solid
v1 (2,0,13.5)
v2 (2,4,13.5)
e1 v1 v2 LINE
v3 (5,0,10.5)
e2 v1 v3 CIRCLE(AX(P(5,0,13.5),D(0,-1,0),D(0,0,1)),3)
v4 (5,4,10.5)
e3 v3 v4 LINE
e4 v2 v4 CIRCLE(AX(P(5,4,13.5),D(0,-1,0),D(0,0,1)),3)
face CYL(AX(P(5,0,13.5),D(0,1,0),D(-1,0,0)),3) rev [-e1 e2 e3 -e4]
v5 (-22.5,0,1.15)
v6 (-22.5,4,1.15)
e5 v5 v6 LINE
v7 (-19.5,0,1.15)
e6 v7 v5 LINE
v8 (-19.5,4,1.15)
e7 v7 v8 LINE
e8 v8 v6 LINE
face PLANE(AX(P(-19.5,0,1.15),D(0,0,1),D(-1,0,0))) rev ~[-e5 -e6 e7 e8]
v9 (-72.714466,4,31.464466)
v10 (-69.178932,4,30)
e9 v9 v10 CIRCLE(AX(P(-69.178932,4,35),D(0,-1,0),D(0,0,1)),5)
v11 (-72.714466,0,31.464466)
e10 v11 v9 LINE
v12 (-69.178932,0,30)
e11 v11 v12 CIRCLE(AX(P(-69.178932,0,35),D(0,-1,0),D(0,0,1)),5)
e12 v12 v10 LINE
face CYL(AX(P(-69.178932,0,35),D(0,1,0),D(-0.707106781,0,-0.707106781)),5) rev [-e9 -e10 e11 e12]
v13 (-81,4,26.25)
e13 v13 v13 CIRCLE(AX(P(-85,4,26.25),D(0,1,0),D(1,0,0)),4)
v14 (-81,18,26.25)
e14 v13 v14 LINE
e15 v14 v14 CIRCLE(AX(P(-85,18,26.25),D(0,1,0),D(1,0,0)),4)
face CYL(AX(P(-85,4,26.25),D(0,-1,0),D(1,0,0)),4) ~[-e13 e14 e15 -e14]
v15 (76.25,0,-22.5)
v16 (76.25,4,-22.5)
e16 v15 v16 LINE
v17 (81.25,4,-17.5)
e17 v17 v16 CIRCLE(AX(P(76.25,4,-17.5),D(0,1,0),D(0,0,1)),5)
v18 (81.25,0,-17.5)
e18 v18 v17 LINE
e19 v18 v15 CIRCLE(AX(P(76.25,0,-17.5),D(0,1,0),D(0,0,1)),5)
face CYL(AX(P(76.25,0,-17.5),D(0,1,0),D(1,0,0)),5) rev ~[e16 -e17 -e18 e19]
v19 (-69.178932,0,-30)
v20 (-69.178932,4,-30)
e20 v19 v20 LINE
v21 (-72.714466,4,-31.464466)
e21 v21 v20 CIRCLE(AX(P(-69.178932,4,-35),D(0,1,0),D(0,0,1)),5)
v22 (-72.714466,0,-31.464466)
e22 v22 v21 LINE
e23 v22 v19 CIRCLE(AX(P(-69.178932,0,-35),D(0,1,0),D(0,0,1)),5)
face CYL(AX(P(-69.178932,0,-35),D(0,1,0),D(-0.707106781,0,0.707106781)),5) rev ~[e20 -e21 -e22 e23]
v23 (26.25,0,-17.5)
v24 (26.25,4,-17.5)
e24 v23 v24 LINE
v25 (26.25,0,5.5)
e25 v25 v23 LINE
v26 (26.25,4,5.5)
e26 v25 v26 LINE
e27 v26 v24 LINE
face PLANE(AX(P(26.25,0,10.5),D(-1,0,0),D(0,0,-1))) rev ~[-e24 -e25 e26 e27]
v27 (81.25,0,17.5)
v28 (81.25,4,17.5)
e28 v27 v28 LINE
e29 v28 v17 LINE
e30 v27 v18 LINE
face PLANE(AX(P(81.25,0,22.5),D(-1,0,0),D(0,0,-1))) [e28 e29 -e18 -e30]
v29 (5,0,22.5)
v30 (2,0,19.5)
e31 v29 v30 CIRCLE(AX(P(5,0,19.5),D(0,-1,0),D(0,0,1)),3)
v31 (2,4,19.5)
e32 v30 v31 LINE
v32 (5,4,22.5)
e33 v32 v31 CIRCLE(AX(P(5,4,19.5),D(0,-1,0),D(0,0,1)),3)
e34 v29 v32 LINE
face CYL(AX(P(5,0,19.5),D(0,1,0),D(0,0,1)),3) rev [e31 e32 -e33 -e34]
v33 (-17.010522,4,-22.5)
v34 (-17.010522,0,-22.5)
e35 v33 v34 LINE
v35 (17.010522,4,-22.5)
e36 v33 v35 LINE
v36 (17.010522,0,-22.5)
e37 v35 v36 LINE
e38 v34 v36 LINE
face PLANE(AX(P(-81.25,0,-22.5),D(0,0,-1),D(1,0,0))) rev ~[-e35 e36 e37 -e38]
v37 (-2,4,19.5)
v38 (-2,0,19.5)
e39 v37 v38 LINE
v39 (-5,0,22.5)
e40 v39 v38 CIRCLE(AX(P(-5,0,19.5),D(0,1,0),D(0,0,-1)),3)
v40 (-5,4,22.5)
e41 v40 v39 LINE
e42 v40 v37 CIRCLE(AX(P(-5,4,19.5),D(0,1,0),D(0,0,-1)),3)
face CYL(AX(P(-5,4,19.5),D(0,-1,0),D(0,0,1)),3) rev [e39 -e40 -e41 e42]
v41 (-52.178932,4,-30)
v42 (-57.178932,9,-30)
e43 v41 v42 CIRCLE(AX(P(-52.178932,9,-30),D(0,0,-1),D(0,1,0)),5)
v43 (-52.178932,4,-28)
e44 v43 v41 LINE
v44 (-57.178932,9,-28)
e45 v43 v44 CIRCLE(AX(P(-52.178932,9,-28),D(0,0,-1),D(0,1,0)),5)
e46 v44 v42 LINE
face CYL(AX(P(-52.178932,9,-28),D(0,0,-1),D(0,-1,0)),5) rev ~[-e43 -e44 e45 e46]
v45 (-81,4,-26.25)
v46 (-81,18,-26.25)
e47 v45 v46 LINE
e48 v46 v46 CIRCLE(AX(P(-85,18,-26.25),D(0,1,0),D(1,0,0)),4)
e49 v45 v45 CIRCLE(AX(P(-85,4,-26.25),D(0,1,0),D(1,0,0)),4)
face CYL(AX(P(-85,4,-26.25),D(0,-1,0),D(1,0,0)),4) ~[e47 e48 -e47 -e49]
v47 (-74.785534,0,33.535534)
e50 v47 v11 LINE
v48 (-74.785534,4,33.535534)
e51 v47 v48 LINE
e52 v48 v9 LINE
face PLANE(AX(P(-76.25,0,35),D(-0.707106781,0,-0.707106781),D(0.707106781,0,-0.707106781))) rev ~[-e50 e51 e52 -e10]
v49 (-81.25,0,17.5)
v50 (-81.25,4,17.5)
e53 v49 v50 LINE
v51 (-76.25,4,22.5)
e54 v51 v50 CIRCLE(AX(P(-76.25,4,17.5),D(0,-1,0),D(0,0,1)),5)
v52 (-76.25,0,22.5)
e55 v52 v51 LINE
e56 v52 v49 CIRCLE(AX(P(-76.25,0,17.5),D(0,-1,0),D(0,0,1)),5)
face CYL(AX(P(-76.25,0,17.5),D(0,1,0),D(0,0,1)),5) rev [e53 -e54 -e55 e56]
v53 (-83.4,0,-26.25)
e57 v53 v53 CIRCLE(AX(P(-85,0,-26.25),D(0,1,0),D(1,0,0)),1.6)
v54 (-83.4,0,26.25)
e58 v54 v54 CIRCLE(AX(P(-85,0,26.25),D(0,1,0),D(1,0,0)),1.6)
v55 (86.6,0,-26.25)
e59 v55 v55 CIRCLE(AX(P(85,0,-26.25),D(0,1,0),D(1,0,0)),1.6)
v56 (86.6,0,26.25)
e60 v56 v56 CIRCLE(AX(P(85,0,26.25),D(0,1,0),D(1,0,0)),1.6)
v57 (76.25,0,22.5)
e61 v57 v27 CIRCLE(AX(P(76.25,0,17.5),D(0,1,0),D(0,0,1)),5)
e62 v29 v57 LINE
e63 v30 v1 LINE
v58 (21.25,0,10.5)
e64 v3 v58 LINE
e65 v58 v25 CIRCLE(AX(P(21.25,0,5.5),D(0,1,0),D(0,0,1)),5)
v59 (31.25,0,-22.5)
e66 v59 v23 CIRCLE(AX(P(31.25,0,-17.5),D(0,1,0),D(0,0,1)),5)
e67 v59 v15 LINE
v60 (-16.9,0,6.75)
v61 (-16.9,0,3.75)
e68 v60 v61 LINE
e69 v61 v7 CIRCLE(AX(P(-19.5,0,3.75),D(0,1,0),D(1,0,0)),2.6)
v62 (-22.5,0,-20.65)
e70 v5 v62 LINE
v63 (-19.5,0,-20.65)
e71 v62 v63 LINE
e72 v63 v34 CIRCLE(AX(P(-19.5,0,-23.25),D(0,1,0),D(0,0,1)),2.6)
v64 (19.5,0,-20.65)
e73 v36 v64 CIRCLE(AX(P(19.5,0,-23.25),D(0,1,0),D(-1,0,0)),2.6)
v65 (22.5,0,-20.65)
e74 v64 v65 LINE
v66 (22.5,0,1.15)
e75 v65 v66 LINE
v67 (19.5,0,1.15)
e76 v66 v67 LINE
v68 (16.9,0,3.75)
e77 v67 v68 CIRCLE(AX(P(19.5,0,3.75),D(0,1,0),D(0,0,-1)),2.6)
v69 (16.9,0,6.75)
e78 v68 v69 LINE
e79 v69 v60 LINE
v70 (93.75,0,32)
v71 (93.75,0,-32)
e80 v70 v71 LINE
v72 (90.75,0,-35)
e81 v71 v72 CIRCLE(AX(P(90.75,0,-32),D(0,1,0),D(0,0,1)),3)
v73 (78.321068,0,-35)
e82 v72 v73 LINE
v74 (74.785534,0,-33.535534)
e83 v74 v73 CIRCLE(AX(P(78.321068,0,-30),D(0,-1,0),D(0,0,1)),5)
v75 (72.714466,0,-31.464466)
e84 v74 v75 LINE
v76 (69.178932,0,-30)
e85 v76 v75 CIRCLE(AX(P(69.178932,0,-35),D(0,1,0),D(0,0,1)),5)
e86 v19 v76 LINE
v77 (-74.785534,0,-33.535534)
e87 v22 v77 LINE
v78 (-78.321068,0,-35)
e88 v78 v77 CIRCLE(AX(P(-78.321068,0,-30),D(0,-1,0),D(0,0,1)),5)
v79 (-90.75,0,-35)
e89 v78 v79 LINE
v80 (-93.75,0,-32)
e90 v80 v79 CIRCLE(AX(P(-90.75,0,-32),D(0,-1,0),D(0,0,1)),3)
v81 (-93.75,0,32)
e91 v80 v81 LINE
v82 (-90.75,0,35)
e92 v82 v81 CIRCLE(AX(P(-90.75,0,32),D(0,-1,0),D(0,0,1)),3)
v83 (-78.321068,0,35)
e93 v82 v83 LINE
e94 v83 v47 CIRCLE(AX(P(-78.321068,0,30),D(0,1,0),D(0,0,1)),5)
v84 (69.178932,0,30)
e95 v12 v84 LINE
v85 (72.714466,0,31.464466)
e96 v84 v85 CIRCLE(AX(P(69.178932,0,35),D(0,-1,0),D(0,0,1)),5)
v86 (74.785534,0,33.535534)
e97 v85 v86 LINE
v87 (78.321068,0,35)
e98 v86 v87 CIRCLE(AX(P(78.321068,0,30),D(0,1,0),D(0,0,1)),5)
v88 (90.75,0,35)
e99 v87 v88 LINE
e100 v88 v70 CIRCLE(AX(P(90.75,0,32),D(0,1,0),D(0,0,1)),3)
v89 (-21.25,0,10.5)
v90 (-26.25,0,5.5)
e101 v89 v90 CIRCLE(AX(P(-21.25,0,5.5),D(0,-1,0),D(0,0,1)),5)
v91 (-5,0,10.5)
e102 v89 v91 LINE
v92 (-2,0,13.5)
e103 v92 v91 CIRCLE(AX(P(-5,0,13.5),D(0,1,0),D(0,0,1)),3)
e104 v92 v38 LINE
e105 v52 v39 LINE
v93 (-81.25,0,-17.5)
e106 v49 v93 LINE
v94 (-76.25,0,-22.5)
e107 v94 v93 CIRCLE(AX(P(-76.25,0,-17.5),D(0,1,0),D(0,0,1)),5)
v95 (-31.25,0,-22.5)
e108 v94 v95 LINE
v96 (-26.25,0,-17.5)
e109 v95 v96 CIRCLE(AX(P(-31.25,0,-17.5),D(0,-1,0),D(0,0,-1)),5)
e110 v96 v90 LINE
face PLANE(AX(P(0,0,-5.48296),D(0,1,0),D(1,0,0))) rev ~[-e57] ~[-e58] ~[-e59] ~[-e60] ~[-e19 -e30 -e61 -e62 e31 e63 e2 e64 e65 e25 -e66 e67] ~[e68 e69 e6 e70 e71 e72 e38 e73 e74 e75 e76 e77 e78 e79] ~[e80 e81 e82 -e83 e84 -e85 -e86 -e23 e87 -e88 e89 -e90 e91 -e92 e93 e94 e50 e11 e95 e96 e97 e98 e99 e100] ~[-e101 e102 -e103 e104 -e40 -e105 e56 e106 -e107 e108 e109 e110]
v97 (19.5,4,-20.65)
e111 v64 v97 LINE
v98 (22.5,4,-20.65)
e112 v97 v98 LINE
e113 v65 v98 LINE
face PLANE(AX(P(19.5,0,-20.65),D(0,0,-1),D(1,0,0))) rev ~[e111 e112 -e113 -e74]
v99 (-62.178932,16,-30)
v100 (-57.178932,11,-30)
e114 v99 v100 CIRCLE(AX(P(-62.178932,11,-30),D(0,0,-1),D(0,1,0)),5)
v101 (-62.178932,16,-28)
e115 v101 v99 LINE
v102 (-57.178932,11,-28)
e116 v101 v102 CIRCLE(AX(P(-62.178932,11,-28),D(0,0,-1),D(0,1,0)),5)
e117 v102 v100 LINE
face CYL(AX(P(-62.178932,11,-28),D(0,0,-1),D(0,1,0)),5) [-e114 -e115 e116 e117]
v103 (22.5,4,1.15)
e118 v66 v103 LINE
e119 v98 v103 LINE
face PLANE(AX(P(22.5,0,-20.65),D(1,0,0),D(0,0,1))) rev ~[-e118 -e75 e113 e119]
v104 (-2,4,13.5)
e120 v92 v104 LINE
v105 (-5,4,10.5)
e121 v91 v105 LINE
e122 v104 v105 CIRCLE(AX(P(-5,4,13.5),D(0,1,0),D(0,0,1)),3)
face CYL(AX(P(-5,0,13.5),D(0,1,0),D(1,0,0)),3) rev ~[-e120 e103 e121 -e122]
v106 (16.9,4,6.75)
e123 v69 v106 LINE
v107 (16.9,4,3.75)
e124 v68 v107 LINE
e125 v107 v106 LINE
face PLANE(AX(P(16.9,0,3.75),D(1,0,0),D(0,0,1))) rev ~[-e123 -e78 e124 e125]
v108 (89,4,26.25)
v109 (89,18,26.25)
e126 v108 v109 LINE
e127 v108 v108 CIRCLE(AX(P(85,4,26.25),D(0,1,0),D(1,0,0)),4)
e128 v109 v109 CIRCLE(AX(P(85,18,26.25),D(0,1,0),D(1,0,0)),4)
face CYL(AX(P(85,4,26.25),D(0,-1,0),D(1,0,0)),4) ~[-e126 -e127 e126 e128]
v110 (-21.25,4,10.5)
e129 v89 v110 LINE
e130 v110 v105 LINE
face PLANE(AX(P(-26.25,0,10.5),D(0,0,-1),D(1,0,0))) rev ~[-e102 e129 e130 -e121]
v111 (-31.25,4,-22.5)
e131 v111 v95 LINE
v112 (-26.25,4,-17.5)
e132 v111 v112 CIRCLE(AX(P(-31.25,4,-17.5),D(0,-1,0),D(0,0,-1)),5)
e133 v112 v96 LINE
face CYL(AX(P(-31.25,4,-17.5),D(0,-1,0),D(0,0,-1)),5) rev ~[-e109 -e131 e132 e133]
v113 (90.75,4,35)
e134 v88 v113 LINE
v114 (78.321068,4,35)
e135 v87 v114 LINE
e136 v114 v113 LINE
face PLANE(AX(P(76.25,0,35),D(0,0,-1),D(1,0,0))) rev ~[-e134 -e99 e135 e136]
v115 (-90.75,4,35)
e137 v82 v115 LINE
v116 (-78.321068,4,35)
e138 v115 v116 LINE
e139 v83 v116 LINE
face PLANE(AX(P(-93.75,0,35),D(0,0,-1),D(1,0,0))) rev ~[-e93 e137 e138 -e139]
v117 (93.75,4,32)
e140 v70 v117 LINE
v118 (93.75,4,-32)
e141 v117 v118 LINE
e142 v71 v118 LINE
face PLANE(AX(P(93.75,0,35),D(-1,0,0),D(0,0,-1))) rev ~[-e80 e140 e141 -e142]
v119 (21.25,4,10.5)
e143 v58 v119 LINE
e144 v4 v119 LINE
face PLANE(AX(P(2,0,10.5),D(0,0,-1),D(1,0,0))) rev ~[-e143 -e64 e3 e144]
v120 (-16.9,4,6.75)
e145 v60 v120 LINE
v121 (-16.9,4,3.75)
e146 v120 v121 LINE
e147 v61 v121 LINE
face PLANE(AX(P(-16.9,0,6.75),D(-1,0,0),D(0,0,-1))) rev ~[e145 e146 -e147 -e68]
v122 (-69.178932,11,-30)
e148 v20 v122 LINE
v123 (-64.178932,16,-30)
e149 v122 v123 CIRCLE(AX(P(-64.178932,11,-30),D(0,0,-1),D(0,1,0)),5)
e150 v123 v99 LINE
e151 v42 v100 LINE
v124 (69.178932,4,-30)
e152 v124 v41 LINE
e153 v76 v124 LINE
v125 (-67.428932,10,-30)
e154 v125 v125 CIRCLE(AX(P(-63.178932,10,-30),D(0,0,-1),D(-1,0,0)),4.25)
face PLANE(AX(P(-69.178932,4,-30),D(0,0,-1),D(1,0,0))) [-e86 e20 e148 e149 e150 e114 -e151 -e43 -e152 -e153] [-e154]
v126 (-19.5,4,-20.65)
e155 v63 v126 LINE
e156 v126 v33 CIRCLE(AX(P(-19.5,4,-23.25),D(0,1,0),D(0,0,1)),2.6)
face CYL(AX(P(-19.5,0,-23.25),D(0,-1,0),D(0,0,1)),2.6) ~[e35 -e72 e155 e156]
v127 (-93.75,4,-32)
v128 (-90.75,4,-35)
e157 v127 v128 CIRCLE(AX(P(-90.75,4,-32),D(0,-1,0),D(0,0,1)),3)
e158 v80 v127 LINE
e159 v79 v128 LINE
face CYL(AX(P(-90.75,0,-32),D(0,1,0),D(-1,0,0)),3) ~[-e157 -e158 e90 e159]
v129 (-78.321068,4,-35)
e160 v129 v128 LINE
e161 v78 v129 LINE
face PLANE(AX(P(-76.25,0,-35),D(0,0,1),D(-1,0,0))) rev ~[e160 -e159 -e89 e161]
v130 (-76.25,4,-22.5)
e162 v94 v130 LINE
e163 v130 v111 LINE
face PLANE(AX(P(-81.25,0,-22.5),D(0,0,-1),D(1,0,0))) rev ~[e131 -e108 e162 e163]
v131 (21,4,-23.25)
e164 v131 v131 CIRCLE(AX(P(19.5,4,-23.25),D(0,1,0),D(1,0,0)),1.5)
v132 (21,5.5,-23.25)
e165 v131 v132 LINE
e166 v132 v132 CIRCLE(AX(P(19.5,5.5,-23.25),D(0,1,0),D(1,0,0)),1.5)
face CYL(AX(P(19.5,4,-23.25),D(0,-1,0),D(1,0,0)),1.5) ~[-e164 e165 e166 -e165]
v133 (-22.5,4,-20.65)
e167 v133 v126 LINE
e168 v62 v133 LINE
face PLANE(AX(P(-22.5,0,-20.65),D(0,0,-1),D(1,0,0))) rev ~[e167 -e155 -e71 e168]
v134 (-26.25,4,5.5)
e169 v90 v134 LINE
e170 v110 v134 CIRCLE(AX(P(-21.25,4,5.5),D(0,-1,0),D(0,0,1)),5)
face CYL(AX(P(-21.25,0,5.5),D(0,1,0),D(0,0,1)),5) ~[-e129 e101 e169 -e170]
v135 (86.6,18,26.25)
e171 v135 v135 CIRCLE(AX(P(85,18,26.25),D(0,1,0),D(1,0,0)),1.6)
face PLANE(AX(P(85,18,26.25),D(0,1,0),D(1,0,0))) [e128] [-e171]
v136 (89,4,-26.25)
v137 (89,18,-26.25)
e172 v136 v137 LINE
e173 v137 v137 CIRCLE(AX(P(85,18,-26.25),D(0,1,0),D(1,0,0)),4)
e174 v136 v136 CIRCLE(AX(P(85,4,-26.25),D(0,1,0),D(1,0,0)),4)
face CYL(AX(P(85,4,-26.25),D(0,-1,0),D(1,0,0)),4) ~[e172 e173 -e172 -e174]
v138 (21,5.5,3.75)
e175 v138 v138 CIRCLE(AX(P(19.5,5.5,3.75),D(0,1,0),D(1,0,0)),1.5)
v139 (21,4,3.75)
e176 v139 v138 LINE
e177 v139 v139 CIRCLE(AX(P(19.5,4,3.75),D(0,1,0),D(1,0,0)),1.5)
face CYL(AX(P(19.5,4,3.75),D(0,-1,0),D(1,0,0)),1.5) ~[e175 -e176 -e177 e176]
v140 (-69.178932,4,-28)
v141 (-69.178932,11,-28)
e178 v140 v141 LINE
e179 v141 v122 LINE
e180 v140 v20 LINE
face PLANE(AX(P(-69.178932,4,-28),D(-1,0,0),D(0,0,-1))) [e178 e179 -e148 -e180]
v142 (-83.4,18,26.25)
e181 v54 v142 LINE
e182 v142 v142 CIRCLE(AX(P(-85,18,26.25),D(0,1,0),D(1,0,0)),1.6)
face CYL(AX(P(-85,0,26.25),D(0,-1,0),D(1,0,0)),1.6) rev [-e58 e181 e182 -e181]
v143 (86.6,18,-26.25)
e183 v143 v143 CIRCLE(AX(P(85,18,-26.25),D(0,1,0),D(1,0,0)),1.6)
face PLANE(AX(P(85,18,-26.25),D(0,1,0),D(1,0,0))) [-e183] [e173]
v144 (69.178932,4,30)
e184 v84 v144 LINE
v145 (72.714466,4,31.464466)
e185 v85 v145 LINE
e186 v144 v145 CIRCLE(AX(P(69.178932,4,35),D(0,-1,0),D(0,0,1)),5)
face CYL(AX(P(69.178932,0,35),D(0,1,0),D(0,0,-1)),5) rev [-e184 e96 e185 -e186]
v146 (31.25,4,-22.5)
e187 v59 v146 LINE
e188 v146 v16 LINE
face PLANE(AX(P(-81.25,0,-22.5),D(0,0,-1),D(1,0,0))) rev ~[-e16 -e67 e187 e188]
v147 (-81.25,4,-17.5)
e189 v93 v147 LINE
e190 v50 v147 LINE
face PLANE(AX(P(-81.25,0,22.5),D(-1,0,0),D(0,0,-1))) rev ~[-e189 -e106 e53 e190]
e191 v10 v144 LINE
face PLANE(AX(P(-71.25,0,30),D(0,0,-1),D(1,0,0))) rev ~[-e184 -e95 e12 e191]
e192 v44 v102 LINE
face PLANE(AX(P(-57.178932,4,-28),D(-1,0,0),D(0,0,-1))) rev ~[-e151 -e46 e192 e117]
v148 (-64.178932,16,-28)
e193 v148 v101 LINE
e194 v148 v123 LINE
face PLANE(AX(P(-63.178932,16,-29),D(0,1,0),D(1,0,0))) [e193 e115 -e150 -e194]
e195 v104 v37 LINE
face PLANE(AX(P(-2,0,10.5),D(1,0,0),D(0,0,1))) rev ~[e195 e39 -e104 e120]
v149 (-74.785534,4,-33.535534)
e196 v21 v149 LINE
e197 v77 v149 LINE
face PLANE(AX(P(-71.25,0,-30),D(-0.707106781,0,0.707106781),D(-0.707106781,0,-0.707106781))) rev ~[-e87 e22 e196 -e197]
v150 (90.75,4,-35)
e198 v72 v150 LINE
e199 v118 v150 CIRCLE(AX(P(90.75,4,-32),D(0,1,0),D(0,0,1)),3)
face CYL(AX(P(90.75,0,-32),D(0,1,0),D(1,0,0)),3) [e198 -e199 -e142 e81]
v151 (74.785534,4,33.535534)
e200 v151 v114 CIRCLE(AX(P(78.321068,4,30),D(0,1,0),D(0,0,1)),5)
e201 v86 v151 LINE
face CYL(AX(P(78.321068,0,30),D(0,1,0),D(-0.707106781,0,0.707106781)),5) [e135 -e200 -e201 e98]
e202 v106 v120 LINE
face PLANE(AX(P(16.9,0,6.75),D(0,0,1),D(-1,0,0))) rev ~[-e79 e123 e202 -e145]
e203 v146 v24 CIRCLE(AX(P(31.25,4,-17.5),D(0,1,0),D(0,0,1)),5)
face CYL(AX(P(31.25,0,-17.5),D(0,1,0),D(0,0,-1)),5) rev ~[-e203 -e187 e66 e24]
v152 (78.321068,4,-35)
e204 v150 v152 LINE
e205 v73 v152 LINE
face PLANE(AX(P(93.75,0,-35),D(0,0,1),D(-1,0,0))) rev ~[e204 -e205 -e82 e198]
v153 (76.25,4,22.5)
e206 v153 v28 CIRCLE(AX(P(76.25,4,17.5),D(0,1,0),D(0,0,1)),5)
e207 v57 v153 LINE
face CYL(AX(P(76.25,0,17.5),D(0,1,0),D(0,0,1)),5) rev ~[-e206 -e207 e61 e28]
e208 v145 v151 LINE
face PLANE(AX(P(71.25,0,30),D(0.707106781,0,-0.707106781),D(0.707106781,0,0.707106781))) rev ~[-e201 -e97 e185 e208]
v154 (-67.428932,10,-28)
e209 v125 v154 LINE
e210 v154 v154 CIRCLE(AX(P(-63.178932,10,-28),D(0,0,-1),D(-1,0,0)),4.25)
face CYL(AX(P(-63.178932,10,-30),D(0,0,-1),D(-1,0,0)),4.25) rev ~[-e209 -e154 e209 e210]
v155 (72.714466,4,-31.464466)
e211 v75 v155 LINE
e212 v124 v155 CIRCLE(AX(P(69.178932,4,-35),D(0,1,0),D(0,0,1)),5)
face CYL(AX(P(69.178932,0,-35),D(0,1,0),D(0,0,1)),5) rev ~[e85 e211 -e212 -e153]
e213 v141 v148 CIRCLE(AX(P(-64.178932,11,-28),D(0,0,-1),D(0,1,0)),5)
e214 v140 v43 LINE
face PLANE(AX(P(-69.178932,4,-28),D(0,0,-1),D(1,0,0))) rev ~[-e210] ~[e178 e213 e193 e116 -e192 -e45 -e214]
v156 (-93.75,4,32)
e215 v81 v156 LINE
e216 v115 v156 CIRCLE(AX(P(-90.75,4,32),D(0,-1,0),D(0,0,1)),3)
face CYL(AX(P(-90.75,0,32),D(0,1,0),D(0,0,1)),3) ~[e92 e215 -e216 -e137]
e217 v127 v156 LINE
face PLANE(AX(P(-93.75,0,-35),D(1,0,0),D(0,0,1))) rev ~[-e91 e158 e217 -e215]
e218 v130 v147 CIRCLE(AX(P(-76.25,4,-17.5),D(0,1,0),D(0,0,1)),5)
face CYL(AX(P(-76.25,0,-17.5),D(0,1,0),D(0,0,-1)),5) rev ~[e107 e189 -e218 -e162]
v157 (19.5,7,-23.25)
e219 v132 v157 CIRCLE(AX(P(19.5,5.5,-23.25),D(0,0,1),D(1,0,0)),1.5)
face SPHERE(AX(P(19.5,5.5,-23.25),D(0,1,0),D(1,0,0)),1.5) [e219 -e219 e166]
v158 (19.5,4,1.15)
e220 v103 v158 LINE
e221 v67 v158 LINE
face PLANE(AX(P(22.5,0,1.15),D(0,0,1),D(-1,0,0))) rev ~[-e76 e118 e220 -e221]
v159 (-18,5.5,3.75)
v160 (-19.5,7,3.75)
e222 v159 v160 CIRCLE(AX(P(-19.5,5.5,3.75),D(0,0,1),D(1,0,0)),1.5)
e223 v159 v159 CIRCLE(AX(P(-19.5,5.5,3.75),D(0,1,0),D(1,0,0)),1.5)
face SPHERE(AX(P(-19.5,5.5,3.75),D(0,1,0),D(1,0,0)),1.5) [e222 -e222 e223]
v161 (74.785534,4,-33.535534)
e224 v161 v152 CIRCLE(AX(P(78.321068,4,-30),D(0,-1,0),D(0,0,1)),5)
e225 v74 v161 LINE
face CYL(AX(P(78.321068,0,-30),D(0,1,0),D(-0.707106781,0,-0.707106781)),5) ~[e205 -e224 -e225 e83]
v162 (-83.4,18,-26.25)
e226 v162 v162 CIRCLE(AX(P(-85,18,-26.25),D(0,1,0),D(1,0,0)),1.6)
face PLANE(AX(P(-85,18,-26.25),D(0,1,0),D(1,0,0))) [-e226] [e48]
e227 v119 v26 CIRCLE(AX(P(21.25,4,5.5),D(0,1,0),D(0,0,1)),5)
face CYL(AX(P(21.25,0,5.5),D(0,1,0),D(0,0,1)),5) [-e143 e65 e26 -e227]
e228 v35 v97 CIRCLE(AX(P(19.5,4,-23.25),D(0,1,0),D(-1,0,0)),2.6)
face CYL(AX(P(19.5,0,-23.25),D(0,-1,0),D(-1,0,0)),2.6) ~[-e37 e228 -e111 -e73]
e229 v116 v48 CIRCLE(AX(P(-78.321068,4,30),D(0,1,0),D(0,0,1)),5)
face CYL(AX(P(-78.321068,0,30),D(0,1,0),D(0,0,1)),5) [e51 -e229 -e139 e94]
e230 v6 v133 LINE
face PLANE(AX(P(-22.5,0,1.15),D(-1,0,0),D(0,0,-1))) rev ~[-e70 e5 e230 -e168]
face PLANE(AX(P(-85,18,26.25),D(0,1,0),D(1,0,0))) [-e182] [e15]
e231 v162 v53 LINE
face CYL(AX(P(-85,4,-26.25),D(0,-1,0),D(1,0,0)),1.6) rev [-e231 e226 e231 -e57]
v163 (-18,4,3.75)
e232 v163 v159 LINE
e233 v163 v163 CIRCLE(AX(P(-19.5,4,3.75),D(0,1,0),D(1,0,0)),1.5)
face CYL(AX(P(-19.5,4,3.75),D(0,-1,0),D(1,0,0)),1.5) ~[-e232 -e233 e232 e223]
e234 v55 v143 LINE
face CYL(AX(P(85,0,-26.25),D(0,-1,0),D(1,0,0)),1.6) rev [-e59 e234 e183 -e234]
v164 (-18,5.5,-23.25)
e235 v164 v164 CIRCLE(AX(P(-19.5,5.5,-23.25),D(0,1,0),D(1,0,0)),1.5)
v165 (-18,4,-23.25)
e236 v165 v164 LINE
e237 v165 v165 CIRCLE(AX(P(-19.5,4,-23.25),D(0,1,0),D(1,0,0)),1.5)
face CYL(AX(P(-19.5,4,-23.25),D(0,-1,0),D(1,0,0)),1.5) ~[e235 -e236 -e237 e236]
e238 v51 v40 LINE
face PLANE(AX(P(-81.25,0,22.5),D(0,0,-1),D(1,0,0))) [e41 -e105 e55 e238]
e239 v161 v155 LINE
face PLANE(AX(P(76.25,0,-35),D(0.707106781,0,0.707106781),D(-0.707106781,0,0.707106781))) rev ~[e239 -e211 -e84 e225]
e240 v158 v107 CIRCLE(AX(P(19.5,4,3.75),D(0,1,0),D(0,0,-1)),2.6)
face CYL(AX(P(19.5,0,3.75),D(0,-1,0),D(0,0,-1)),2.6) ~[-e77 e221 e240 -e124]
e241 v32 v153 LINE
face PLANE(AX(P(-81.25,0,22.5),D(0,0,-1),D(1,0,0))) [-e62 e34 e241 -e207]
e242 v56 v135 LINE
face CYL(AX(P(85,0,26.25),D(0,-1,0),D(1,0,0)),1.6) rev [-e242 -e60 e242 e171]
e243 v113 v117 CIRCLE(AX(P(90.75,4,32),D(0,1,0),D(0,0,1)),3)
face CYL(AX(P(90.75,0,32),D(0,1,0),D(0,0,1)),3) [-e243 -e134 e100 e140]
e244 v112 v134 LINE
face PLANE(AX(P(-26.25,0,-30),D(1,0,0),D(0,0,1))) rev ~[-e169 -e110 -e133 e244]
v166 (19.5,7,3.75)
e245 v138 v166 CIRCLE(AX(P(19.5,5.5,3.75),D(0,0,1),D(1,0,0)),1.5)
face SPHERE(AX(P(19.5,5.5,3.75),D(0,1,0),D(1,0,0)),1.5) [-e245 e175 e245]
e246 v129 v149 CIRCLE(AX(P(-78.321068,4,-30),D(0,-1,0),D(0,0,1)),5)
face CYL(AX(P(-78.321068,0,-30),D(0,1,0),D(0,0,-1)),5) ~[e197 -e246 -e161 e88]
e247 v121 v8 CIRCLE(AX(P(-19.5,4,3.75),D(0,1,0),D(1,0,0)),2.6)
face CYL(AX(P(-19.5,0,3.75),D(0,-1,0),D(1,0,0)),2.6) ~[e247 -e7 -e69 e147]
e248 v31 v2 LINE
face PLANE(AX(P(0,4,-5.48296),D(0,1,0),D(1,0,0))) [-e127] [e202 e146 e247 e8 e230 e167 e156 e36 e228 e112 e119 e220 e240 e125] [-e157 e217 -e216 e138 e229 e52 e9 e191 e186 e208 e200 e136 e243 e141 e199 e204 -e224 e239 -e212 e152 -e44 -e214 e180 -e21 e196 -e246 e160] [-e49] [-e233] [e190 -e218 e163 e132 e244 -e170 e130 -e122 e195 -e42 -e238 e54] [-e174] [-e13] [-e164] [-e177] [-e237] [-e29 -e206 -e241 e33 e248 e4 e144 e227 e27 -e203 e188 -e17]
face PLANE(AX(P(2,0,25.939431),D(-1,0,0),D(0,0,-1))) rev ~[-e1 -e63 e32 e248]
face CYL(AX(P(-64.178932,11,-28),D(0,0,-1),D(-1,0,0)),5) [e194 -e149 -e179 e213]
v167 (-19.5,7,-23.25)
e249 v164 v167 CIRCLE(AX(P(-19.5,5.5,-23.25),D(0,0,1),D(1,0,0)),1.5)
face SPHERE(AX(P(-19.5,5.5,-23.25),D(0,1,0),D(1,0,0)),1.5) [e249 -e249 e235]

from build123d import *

# Parameters (mm, degrees)
SKETCH2_R           = 1.6
SKETCH2_W           = 162.5
SKETCH2_H           = 45
BOSS_EXTRUDE2_DEPTH = 4
FILLET3_R           = 3
FILLET4_R           = 5
BOSS_EXTRUDE3_DEPTH = 4
FILLET5_R           = 5
SKETCH7_W           = 12
SKETCH7_H           = 2
BOSS_EXTRUDE4_DEPTH = 12
CUT_EXTRUDE3_REACH  = 67
SKETCH8_R           = 4.25
FILLET6_R           = 5
FILLET7_R           = 3
SKETCH9_R           = 1.5
BOSS_EXTRUDE5_DEPTH = 3
FILLET8_R           = 1.5
SKETCH10_R          = 4
SKETCH10_R_2        = 1.6
BOSS_EXTRUDE6_DEPTH = 14


with BuildPart() as part:
    # Sketch2 → Boss-Extrude2 (new body)
    with BuildSketch(Plane(origin=(0, 0, 0), x_dir=(1, 0, 0), z_dir=(0, 1, 0))):
        Polygon((-93.75, -35), (-76.25, -35), (-71.25, -30), (71.25, -30), (76.25, -35), (93.75, -35), (93.75, 35), (76.25, 35), (71.25, 30), (-71.25, 30), (-76.25, 35), (-93.75, 35), align=None)
        with Locations((-85, 26.25)):
            Circle(SKETCH2_R, mode=Mode.SUBTRACT)
        with Locations((85, 26.25)):
            Circle(SKETCH2_R, mode=Mode.SUBTRACT)
        with Locations((85, -26.25)):
            Circle(SKETCH2_R, mode=Mode.SUBTRACT)
        with Locations((-85, -26.25)):
            Circle(SKETCH2_R, mode=Mode.SUBTRACT)
        Rectangle(SKETCH2_W, SKETCH2_H, mode=Mode.SUBTRACT)
    extrude(amount=BOSS_EXTRUDE2_DEPTH)

    # Fillet3
    fillet3_edges = [part.edges().sort_by_distance(p)[0] for p in [
        (-93.75, 2, -35),
        (93.75, 2, -35),
        (93.75, 2, 35),
        (-93.75, 2, 35),
    ]]
    fillet(fillet3_edges, radius=FILLET3_R)

    # Fillet4
    fillet4_edges = [part.edges().sort_by_distance(p)[0] for p in [
        (-76.25, 2, -35),
        (-71.25, 2, -30),
        (71.25, 2, -30),
        (76.25, 2, -35),
        (76.25, 2, 35),
        (71.25, 2, 30),
        (-71.25, 2, 30),
        (-76.25, 2, 35),
        (81.25, 2, -22.5),
        (-81.25, 2, -22.5),
        (-81.25, 2, 22.5),
        (81.25, 2, 22.5),
    ]]
    fillet(fillet4_edges, radius=FILLET4_R)

    # Sketch5 → Boss-Extrude3 (add)
    with BuildSketch(Plane(origin=(0, 0, 0), x_dir=(1, 0, 0), z_dir=(0, 1, 0))):
        Polygon((-26.25, -10.5), (-2, -10.5), (-2, -25.93943087), (2, -25.93943087), (2, -10.5), (26.25, -10.5), (26.25, 30), (-26.25, 30), align=None)
        with BuildLine():
            Line((-16.9, 26.25), (16.9, 26.25))
            Line((16.9, 26.25), (16.9, 23.25))
            ThreePointArc((16.9, 23.25), (17.661522369, 21.411522369), (19.5, 20.65))
            Line((19.5, 20.65), (22.5, 20.65))
            Line((22.5, 20.65), (22.5, -1.15))
            Line((22.5, -1.15), (19.5, -1.15))
            ThreePointArc((19.5, -1.15), (17.661522369, -1.911522369), (16.9, -3.75))
            Line((16.9, -3.75), (16.9, -6.75))
            Line((16.9, -6.75), (-16.9, -6.75))
            Line((-16.9, -6.75), (-16.9, -3.75))
            ThreePointArc((-16.9, -3.75), (-17.661522369, -1.911522369), (-19.5, -1.15))
            Line((-19.5, -1.15), (-22.5, -1.15))
            Line((-22.5, -1.15), (-22.5, 20.65))
            Line((-22.5, 20.65), (-19.5, 20.65))
            ThreePointArc((-19.5, 20.65), (-17.661522369, 21.411522369), (-16.9, 23.25))
            Line((-16.9, 23.25), (-16.9, 26.25))
        make_face(mode=Mode.SUBTRACT)
    extrude(amount=BOSS_EXTRUDE3_DEPTH)

    # Fillet5
    fillet5_edges = [part.edges().sort_by_distance(p)[0] for p in [
        (-26.25, 2, -22.5),
        (26.25, 2, -22.5),
        (26.25, 2, 10.5),
        (-26.25, 2, 10.5),
    ]]
    fillet(fillet5_edges, radius=FILLET5_R)

    # Sketch7 → Boss-Extrude4 (add)
    with BuildSketch(Plane(origin=(0, 4, 0), x_dir=(1, 0, 0), z_dir=(0, 1, 0))):
        with Locations((-63.178932188, 29)):
            Rectangle(SKETCH7_W, SKETCH7_H)
    extrude(amount=BOSS_EXTRUDE4_DEPTH)

    # Sketch8 → Cut-Extrude3 (cut, up to next)
    with BuildSketch(Plane(origin=(0, 0, -30), x_dir=(-1, 0, 0), z_dir=(0, 0, -1)), mode=Mode.PRIVATE) as cut_extrude3_sk1:
        with Locations((63.178932188, 10)):
            Circle(SKETCH8_R)
    cut_extrude3_tool1 = extrude(cut_extrude3_sk1.sketch, amount=-CUT_EXTRUDE3_REACH, mode=Mode.PRIVATE) & part.part
    add(cut_extrude3_tool1.solids().sort_by_distance((-63.178932, 10, -30))[0], mode=Mode.SUBTRACT)

    # Fillet6
    fillet6_edges = [part.edges().sort_by_distance(p)[0] for p in [
        (-57.178932188, 4, -29),
        (-69.178932188, 16, -29),
        (-57.178932188, 16, -29),
    ]]
    fillet(fillet6_edges, radius=FILLET6_R)

    # Fillet7
    fillet7_edges = [part.edges().sort_by_distance(p)[0] for p in [
        (2, 2, 22.5),
        (-2, 2, 22.5),
        (-2, 2, 10.5),
        (2, 2, 10.5),
    ]]
    fillet(fillet7_edges, radius=FILLET7_R)

    # Sketch9 → Boss-Extrude5 (add)
    with BuildSketch(Plane(origin=(0, 4, 0), x_dir=(1, 0, 0), z_dir=(0, 1, 0))):
        with Locations((-19.5, -3.75)):
            Circle(SKETCH9_R)
        with Locations((-19.5, 23.25)):
            Circle(SKETCH9_R)
        with Locations((19.5, 23.25)):
            Circle(SKETCH9_R)
        with Locations((19.5, -3.75)):
            Circle(SKETCH9_R)
    extrude(amount=BOSS_EXTRUDE5_DEPTH)

    # Fillet8
    fillet8_edges = [part.edges().sort_by_distance(p)[0] for p in [
        (-21, 7, 3.75),
        (-21, 7, -23.25),
        (18, 7, -23.25),
        (18, 7, 3.75),
    ]]
    fillet(fillet8_edges, radius=FILLET8_R)

    # Sketch10 → Boss-Extrude6 (add)
    with BuildSketch(Plane(origin=(0, 4, 0), x_dir=(1, 0, 0), z_dir=(0, 1, 0))):
        with Locations((-85, 26.25)):
            Circle(SKETCH10_R)
        with Locations((-85, 26.25)):
            Circle(SKETCH10_R_2, mode=Mode.SUBTRACT)
        with Locations((85, 26.25)):
            Circle(SKETCH10_R)
        with Locations((85, 26.25)):
            Circle(SKETCH10_R_2, mode=Mode.SUBTRACT)
        with Locations((85, -26.25)):
            Circle(SKETCH10_R)
        with Locations((85, -26.25)):
            Circle(SKETCH10_R_2, mode=Mode.SUBTRACT)
        with Locations((-85, -26.25)):
            Circle(SKETCH10_R)
        with Locations((-85, -26.25)):
            Circle(SKETCH10_R_2, mode=Mode.SUBTRACT)
    extrude(amount=BOSS_EXTRUDE6_DEPTH)


solid = part.part
